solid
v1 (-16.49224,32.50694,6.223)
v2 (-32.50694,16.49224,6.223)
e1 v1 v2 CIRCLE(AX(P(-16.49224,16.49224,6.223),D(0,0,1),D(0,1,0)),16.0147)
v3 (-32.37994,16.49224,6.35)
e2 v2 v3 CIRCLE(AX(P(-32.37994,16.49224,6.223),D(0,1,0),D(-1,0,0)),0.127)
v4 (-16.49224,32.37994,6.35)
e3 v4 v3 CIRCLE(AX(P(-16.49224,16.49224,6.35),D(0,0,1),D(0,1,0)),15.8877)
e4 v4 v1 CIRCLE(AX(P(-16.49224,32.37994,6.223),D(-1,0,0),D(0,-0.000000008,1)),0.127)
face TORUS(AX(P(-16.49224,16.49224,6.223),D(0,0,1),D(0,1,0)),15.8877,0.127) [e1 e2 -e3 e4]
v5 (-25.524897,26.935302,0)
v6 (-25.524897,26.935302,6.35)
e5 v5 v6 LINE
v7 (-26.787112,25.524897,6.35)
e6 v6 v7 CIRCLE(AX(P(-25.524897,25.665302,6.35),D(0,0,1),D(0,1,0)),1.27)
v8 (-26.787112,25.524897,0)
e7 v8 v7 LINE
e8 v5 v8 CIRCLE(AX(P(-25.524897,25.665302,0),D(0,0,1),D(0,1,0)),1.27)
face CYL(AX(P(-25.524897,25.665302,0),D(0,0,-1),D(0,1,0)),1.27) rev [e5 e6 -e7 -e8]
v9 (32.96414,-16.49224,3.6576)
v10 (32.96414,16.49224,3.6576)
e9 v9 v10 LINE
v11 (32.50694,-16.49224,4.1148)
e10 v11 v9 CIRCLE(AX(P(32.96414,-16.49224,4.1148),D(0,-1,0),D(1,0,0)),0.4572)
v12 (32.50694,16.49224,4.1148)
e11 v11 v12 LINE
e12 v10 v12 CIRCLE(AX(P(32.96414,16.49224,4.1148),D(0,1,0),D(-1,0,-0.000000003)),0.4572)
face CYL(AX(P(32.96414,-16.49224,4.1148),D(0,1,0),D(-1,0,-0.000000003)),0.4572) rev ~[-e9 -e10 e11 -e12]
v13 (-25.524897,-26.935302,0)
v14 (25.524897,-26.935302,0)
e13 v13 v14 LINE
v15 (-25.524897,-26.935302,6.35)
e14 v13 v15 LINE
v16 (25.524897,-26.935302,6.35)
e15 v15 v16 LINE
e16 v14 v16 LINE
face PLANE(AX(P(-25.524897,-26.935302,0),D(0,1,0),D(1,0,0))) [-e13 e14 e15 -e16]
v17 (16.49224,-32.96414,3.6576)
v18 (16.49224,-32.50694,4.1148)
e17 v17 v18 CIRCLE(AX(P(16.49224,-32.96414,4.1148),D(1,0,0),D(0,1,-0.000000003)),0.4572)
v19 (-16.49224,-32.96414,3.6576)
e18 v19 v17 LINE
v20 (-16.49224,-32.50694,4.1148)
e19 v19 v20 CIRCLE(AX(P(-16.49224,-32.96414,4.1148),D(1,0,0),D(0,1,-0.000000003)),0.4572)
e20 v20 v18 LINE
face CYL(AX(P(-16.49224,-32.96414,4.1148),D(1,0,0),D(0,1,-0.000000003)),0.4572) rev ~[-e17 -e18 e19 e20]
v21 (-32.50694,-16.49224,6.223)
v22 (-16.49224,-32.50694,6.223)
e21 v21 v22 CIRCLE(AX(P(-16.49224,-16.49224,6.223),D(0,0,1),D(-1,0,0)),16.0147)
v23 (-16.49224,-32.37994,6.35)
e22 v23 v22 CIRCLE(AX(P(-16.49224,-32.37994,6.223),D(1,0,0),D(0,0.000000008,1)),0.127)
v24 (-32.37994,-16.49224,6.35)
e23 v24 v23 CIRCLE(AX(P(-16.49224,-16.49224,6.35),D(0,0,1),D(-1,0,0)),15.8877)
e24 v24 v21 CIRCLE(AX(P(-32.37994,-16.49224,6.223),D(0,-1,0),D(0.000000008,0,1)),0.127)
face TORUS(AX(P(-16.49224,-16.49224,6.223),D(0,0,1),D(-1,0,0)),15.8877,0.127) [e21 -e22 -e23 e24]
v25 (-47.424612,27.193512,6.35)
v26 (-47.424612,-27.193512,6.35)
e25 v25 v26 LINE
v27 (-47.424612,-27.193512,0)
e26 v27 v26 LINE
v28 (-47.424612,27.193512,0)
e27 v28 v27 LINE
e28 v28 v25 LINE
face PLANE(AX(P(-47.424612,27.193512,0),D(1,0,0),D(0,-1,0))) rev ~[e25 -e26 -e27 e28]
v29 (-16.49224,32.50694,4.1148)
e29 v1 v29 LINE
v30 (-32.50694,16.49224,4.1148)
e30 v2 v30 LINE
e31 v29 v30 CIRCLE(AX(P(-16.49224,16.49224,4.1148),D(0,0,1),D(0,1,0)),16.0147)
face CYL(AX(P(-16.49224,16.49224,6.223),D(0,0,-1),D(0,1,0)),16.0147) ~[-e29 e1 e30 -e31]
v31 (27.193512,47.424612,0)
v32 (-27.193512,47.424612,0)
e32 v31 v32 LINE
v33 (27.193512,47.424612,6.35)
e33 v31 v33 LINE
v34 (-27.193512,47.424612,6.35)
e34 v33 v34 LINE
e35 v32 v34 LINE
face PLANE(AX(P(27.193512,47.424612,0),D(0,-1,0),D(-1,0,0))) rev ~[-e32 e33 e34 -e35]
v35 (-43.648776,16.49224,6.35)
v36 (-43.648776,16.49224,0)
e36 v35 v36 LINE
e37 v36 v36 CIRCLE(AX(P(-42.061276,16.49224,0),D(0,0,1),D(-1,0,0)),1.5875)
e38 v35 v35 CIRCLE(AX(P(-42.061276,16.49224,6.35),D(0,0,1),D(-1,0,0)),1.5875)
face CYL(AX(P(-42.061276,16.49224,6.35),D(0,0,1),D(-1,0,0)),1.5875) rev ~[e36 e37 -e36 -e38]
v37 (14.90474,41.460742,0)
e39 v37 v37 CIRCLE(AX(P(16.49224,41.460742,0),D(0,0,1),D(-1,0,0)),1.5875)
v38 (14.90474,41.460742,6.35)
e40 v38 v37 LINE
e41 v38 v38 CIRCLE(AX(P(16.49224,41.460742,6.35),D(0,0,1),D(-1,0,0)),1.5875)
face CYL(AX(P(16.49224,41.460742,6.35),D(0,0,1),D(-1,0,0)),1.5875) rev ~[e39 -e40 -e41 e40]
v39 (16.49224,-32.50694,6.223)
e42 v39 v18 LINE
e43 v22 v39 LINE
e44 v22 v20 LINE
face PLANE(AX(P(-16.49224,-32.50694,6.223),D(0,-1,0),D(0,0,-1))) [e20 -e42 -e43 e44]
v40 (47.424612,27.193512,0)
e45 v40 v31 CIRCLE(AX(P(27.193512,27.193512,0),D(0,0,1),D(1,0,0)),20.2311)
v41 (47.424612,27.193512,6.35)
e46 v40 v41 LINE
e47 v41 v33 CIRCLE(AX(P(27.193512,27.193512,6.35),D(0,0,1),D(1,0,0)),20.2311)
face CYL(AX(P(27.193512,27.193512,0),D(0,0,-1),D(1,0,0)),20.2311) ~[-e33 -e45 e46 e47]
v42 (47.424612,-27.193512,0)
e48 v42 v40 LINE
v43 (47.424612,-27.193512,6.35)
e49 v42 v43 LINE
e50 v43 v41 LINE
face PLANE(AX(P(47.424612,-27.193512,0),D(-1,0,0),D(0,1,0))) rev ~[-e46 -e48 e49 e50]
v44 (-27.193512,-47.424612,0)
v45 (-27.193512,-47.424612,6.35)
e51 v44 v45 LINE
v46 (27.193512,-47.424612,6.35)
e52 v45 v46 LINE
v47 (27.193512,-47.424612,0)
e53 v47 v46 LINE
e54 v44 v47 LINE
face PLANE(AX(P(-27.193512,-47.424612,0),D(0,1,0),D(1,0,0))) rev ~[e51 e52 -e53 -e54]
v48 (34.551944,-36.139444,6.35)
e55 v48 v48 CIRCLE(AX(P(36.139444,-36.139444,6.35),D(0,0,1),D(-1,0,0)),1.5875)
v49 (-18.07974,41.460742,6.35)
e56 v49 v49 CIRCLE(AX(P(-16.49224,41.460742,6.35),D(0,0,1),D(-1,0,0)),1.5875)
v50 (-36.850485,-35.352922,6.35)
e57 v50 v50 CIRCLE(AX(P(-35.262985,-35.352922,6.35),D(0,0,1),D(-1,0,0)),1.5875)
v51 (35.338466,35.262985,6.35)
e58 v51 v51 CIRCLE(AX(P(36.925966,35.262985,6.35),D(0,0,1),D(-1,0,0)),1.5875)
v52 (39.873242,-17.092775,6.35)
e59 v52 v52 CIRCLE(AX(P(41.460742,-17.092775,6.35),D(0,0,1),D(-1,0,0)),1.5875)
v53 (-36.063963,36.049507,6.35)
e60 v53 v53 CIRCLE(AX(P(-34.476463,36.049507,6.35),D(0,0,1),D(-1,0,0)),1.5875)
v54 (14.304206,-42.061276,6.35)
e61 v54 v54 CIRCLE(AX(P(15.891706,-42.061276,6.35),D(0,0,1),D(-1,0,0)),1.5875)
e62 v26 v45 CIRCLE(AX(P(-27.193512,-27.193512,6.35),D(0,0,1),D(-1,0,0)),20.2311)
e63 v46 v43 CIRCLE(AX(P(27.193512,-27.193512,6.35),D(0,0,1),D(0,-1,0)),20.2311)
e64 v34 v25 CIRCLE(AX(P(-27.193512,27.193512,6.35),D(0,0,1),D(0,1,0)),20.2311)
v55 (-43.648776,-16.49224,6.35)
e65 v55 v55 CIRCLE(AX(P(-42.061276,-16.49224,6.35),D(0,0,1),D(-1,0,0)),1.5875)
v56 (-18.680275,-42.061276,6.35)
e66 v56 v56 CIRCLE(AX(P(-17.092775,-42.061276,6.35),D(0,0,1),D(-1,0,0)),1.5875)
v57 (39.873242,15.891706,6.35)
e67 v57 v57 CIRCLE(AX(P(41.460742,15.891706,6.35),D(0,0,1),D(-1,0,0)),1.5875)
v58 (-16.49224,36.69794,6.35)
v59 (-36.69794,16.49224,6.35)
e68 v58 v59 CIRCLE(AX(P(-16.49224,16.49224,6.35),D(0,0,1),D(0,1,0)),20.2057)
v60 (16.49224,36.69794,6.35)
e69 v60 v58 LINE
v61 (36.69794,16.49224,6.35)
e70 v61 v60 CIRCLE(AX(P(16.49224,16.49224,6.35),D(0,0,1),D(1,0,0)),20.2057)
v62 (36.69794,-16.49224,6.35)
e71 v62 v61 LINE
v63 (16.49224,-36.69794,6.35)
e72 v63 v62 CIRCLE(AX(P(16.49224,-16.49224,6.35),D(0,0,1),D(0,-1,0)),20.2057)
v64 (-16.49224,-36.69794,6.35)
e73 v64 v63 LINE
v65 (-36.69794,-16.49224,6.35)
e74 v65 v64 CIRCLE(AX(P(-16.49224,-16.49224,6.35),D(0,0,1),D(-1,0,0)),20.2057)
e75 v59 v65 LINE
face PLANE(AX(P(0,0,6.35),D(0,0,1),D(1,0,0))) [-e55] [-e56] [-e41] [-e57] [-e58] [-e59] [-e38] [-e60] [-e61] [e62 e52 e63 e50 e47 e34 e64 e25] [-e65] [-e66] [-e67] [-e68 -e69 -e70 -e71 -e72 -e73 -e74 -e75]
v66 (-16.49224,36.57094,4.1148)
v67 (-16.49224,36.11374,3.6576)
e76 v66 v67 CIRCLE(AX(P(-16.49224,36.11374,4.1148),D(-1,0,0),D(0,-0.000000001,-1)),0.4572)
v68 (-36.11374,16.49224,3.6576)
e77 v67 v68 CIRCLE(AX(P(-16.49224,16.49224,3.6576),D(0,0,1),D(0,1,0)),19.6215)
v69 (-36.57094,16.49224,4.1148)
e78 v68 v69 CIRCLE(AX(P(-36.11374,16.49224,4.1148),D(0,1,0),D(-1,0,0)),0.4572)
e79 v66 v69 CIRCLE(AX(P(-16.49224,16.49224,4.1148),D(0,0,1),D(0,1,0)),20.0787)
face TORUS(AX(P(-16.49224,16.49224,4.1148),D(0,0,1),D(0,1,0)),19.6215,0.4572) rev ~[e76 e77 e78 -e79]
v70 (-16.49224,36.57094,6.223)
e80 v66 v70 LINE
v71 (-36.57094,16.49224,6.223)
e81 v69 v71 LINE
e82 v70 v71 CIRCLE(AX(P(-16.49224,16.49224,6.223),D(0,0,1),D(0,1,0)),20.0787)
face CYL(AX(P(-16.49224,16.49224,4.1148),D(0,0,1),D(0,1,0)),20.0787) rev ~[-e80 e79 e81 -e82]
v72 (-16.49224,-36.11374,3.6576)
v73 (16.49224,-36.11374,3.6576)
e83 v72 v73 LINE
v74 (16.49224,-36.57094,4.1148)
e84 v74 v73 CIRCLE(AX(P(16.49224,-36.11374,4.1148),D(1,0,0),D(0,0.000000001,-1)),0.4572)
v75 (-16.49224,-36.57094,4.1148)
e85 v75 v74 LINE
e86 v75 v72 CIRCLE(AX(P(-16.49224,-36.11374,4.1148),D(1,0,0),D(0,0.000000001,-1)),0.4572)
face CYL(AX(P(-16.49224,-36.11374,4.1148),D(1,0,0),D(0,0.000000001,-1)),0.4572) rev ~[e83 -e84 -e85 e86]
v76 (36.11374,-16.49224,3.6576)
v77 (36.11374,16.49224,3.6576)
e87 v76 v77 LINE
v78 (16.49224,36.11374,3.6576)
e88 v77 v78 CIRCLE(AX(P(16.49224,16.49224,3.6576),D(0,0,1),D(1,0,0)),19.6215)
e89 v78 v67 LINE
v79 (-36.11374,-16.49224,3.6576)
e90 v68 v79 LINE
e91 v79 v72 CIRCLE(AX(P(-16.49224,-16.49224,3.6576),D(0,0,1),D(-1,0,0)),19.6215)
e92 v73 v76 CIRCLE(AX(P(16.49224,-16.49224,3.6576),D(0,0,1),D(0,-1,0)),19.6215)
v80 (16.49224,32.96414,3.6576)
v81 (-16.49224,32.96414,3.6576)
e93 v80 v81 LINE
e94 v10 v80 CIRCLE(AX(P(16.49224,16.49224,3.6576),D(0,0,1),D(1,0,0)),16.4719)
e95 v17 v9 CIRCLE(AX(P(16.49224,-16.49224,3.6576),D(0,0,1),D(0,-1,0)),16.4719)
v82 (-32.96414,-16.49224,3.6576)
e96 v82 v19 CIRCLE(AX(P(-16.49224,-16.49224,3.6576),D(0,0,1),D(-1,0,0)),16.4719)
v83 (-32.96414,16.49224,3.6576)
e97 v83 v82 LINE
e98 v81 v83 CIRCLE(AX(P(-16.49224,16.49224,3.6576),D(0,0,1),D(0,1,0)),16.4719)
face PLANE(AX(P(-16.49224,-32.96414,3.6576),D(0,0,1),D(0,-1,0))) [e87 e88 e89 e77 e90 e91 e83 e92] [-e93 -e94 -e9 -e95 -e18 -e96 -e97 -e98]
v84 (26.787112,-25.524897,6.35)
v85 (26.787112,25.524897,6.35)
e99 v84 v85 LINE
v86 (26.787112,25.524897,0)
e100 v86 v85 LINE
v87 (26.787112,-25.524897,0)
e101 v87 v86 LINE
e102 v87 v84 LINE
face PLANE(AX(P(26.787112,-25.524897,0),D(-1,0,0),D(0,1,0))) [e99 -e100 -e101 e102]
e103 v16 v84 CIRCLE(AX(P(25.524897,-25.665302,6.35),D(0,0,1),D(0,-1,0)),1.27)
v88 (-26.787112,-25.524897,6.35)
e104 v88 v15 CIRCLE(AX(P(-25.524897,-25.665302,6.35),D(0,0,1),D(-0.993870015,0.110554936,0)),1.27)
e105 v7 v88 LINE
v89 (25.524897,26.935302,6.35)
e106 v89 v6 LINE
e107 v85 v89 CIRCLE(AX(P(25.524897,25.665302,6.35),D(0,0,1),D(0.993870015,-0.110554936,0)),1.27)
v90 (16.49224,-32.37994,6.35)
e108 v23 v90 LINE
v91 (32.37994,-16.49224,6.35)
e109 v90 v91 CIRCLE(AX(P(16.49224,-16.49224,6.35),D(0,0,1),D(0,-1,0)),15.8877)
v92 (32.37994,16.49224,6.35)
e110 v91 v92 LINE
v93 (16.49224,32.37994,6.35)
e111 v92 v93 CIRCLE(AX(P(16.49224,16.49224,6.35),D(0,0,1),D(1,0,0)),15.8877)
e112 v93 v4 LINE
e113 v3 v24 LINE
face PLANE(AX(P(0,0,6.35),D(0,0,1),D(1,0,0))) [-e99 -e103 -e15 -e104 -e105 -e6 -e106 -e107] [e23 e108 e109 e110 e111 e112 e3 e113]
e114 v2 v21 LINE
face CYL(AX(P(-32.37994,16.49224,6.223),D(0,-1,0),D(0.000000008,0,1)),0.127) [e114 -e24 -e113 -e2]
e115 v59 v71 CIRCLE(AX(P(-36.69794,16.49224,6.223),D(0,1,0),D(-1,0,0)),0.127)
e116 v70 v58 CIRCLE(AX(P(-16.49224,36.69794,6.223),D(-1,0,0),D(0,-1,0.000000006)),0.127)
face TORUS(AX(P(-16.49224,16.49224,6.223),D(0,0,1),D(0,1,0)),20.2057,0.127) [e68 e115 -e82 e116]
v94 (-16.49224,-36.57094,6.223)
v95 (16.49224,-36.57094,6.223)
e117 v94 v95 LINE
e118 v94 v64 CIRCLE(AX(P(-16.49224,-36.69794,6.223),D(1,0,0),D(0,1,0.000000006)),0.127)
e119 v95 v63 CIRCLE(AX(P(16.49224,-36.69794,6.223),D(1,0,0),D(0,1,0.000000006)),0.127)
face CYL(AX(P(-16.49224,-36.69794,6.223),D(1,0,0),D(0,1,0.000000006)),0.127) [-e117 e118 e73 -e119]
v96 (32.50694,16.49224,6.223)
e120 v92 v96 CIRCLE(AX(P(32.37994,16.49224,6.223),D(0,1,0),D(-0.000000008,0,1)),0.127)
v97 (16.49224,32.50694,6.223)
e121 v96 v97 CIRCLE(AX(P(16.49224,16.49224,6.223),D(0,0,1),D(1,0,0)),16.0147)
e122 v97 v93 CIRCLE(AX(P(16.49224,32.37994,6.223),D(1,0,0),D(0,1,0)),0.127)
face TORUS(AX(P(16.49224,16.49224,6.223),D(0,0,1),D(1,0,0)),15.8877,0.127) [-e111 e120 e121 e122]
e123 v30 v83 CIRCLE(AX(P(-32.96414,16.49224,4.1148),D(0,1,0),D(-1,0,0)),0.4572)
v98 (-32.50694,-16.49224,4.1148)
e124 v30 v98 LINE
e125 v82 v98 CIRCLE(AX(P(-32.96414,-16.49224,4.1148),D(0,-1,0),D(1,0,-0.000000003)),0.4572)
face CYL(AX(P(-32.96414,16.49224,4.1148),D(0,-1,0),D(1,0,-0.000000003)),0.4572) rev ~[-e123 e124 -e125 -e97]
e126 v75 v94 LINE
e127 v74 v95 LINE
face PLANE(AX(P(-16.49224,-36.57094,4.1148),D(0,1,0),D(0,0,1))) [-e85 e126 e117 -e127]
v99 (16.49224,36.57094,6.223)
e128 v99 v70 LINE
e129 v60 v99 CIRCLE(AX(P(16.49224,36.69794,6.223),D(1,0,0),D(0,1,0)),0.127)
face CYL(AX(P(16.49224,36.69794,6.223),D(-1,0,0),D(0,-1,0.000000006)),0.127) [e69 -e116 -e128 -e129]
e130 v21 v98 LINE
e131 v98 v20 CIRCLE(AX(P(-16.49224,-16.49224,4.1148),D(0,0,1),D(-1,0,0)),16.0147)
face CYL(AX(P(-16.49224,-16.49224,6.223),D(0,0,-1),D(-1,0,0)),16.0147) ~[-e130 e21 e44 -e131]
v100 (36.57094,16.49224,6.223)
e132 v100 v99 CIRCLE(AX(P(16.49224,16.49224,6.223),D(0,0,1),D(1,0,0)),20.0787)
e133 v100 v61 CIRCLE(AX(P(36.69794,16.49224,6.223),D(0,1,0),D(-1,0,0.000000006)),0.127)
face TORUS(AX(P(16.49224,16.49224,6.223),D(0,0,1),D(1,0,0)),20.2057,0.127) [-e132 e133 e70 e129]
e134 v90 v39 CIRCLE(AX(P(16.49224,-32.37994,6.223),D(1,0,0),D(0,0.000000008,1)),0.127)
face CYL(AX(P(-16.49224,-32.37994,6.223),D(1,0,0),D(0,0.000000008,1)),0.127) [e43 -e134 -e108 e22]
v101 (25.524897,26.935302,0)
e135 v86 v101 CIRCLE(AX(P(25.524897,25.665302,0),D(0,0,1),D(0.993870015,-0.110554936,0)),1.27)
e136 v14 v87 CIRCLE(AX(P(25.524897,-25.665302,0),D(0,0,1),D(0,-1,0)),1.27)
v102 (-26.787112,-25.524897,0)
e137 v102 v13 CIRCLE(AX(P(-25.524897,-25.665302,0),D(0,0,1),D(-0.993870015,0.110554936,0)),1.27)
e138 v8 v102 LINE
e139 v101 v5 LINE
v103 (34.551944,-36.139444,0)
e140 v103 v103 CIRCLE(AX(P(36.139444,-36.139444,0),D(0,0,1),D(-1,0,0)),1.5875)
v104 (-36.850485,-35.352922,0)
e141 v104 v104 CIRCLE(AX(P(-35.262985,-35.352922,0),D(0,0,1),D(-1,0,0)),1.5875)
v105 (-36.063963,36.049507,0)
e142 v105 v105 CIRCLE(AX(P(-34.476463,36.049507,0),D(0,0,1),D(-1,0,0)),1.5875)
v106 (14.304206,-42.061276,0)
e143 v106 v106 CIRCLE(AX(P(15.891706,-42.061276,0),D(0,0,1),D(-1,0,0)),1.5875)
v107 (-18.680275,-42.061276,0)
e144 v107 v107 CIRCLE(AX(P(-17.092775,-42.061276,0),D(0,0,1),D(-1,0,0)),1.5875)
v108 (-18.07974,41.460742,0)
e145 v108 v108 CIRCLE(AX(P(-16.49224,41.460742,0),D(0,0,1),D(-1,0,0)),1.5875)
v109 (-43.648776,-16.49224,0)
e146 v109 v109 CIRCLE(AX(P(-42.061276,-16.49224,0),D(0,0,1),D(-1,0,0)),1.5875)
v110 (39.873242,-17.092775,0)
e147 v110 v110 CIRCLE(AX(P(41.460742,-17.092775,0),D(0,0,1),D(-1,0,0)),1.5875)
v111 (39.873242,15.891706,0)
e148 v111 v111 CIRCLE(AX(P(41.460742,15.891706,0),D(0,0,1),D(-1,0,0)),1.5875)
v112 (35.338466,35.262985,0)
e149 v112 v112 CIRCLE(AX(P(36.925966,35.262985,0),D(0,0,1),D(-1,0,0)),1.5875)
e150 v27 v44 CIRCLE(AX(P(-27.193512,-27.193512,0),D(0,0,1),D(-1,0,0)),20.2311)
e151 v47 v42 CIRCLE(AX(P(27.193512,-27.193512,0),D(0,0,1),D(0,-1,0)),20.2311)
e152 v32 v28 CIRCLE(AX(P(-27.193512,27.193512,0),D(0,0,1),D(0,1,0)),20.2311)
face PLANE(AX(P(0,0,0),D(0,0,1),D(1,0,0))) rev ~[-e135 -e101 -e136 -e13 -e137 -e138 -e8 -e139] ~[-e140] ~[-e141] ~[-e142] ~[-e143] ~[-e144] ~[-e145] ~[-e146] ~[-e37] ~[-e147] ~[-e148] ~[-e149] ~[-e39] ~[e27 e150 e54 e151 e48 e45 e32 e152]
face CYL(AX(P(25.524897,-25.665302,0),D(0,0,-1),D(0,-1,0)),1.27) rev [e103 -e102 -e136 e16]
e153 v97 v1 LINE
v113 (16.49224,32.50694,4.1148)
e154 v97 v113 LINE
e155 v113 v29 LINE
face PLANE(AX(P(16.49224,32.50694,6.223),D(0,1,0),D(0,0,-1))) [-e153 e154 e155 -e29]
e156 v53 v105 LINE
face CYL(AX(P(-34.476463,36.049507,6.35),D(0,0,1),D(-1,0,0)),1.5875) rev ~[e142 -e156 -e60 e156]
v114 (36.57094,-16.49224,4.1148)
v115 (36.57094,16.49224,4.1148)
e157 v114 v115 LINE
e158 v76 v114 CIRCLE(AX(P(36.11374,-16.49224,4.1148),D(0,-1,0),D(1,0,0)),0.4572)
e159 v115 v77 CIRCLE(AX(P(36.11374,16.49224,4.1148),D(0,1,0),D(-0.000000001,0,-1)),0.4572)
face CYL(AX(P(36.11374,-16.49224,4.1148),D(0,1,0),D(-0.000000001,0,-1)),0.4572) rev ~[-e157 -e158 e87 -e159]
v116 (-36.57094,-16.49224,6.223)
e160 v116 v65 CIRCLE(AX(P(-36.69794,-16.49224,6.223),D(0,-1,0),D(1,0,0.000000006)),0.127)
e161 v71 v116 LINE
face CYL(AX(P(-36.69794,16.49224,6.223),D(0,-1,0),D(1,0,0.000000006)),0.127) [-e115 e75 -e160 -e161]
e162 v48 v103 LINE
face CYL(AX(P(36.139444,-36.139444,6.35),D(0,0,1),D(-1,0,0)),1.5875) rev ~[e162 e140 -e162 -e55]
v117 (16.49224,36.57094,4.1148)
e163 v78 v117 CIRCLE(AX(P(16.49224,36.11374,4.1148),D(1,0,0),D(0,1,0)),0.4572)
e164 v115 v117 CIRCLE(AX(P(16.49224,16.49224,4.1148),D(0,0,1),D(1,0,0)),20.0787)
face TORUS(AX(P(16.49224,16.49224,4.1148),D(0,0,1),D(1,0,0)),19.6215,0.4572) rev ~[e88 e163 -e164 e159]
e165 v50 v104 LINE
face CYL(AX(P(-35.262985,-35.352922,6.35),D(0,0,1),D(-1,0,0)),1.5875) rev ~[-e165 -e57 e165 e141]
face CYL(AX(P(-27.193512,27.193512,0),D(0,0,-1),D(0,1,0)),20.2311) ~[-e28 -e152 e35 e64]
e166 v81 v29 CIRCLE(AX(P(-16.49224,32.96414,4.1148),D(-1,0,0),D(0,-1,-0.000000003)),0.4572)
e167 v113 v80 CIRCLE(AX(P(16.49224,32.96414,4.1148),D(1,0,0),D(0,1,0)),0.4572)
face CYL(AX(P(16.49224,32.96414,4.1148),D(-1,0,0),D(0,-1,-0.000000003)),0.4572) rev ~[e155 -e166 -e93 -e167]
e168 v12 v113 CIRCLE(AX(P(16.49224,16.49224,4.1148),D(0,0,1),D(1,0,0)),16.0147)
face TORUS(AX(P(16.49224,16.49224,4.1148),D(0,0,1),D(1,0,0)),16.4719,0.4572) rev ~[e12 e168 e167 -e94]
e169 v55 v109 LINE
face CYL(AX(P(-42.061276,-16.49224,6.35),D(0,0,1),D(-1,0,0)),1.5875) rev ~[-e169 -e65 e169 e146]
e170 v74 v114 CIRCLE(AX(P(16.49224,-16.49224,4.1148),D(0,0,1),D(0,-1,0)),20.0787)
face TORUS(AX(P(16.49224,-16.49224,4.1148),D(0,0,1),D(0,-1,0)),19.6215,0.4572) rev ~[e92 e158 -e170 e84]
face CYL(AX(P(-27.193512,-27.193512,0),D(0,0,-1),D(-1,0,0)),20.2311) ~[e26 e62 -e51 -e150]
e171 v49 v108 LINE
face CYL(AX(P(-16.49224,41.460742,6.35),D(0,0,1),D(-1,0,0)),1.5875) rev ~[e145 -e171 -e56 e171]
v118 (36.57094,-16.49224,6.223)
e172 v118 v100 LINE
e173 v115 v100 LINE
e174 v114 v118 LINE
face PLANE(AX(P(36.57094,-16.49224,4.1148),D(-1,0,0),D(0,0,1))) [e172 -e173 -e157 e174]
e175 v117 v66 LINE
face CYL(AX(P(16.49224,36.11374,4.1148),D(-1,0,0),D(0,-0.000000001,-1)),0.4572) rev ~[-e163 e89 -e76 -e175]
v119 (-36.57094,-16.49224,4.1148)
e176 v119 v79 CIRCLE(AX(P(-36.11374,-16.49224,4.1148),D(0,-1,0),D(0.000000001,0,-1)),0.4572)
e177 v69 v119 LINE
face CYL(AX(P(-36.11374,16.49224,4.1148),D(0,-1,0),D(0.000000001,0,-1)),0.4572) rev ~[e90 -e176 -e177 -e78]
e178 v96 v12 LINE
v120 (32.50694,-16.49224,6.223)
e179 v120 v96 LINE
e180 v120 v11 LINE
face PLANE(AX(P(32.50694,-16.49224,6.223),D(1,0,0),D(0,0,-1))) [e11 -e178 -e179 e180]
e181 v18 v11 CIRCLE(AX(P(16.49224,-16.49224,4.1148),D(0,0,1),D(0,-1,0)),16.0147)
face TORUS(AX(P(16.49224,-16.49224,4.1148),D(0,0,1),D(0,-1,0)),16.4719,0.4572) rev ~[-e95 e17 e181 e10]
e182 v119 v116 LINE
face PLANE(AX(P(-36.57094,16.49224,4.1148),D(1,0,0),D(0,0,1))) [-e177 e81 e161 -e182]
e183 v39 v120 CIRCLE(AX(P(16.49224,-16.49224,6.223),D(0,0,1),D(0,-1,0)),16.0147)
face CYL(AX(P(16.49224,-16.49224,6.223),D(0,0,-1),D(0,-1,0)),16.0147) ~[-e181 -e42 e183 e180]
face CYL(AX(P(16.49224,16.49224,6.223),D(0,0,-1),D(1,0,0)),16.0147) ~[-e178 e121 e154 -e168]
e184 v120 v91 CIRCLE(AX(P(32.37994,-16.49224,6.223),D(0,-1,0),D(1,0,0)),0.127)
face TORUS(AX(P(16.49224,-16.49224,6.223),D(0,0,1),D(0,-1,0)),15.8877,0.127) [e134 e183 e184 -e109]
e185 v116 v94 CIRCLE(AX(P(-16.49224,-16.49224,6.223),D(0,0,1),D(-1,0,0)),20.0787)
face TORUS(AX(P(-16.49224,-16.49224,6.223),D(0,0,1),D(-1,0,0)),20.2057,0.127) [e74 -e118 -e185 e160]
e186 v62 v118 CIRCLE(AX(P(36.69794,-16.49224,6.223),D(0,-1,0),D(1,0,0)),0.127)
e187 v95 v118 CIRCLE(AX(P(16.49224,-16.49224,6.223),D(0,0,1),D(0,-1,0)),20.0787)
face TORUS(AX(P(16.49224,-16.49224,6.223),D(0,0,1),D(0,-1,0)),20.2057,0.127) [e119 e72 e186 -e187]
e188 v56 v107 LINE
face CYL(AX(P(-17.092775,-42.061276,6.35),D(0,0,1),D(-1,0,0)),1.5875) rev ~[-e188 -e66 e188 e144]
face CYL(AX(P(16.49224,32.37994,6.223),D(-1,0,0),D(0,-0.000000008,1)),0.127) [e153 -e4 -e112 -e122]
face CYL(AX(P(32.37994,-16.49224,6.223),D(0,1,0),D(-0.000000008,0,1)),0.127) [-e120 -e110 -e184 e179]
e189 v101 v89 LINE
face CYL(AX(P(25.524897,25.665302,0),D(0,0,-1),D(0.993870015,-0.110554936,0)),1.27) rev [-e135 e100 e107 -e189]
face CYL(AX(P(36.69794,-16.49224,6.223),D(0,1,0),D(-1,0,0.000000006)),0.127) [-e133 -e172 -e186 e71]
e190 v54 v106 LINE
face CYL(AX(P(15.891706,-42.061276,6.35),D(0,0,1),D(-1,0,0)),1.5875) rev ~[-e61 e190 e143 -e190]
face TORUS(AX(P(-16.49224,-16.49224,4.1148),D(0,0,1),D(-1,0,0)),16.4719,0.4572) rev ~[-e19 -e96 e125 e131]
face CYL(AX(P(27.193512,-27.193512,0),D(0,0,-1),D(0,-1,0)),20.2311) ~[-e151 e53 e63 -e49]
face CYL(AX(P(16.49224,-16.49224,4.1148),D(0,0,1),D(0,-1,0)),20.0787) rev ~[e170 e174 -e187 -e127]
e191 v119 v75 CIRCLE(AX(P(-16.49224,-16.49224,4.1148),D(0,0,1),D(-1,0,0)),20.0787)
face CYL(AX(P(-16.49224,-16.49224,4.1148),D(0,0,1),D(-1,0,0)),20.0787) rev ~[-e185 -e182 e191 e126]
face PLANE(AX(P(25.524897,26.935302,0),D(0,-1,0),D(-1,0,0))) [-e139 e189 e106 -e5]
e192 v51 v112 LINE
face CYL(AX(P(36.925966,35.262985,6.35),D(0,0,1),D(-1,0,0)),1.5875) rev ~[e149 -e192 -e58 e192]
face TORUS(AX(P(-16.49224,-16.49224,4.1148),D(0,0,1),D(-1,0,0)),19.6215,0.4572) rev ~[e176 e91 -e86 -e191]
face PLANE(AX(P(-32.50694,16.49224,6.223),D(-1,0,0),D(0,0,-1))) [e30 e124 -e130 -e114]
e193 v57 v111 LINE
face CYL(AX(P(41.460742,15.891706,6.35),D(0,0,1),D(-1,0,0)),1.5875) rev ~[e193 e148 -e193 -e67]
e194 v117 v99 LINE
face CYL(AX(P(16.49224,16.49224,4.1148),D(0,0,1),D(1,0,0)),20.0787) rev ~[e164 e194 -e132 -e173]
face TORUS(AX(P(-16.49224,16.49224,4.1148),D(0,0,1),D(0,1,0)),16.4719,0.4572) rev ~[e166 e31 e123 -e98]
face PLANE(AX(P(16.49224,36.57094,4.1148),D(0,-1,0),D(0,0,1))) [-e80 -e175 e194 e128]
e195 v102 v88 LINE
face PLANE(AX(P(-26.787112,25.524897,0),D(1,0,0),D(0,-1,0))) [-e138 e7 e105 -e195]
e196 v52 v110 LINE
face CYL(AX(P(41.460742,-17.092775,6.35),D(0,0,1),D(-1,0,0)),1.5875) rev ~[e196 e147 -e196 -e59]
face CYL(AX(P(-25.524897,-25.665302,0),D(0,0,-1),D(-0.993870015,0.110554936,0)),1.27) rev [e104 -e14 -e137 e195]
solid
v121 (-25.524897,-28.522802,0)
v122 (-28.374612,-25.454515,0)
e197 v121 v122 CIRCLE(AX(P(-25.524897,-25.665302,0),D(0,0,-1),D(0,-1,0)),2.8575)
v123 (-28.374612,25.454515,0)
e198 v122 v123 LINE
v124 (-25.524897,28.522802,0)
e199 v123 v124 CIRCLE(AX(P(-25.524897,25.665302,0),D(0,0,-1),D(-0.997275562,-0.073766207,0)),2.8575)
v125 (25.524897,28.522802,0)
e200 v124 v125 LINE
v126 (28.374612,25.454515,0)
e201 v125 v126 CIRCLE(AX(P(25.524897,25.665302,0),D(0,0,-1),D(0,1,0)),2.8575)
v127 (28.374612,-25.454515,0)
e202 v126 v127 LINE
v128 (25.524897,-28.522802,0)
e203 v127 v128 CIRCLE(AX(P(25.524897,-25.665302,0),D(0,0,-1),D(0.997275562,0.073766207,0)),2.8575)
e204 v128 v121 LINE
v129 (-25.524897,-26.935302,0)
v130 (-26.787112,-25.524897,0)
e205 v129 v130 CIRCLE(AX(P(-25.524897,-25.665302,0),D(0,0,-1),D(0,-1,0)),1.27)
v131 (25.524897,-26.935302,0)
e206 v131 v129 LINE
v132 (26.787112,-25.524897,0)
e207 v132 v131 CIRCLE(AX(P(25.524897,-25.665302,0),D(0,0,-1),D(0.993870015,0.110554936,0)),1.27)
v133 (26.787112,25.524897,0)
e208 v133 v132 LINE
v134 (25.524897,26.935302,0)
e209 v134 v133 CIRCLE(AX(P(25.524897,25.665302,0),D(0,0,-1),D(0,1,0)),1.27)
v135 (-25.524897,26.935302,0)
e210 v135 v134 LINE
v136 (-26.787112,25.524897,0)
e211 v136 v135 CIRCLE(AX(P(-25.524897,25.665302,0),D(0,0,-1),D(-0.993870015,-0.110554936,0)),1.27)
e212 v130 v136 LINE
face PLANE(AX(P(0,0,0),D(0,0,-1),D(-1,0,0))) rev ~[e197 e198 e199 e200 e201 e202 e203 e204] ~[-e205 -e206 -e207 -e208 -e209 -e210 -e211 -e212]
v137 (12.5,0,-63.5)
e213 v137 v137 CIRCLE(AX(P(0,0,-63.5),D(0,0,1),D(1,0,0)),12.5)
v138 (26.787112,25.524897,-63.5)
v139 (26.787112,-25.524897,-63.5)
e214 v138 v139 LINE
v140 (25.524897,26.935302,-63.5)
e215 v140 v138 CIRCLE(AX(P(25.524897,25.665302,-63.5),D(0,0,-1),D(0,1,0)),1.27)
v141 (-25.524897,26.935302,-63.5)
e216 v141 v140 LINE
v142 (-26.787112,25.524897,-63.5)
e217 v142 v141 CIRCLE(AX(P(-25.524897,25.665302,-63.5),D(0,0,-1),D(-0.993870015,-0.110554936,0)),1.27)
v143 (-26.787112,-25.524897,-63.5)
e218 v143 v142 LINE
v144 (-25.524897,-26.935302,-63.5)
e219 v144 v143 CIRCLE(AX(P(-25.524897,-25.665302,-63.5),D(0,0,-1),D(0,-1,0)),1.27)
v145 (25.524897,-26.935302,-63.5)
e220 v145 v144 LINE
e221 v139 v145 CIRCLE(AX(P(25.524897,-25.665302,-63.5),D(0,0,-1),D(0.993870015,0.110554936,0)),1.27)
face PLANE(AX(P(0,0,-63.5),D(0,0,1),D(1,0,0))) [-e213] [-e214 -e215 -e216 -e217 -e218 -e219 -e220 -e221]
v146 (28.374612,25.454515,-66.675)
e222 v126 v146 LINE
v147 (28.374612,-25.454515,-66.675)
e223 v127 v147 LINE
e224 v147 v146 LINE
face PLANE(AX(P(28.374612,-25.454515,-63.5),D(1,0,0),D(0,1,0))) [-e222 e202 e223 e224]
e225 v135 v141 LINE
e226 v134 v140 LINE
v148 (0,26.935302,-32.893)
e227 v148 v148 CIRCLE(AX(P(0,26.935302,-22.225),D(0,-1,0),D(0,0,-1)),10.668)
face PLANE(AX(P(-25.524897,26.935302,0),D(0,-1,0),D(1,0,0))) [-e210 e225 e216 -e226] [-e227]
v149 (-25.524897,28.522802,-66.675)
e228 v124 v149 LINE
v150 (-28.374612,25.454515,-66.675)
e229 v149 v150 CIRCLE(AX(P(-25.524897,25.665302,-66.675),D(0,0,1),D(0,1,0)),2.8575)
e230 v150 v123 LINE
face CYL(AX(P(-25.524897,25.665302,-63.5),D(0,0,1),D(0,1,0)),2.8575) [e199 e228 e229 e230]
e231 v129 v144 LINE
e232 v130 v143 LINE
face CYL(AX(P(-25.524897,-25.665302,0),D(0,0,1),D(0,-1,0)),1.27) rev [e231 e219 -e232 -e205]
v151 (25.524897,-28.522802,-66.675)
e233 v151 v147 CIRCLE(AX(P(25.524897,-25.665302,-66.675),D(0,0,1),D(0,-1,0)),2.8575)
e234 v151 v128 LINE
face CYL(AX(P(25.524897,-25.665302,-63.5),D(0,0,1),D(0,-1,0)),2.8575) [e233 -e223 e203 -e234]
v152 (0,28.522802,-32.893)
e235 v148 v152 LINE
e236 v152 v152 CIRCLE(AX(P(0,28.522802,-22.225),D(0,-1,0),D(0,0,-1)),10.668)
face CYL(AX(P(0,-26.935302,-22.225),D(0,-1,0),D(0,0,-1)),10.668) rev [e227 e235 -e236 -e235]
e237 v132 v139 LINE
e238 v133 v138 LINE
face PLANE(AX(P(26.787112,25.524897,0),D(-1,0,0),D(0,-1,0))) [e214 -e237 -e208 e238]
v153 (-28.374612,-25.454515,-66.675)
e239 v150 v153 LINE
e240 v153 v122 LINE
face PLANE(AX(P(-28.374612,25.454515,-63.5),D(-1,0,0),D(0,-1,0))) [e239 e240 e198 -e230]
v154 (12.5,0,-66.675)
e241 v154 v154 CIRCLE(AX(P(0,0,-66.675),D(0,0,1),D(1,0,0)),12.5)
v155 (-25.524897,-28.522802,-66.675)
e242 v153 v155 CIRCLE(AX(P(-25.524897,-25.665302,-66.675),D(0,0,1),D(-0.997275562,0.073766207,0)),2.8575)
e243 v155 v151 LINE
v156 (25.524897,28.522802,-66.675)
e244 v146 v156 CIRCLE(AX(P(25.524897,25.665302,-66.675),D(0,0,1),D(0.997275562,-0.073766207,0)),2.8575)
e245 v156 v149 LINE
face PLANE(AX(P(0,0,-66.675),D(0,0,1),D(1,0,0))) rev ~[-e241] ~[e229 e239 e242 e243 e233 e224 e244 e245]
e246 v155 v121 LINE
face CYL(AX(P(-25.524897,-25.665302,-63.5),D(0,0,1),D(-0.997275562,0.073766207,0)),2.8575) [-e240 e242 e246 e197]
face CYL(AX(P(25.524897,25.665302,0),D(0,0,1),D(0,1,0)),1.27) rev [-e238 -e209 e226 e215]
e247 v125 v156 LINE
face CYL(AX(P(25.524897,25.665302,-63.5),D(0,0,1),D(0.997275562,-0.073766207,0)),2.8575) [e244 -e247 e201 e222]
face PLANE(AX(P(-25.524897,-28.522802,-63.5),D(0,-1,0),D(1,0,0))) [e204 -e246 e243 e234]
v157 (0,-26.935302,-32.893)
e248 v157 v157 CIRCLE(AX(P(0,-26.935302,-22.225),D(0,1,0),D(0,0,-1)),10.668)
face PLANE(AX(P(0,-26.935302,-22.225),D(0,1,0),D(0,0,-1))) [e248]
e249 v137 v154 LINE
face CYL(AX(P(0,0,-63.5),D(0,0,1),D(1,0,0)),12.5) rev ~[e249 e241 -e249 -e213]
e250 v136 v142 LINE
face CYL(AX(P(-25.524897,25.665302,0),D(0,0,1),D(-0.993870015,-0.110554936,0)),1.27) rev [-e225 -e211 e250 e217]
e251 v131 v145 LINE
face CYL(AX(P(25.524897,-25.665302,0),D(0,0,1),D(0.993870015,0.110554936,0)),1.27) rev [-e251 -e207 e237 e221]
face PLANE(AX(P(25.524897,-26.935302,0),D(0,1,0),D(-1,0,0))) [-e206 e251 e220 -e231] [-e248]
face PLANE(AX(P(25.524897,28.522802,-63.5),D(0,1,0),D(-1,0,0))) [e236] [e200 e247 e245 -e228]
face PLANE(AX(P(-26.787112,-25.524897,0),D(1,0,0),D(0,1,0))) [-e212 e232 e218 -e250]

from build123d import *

# Parameters (mm, degrees)
BOSS_EXTRUDE1_DEPTH     = 63.5
BOSS_EXTRUDE2_START     = -63.5
SKETCH12_R              = 12.5
BOSS_EXTRUDE2_DEPTH     = 3.175
CUT_EXTRUDE6_DEPTH      = 78.875967383
CUT_EXTRUDE6_DEPTH_BACK = 55.458104
CUT_EXTRUDE6_START      = 28.522802
SKETCH18_R              = 10.668
BOSS_EXTRUDE3_DEPTH     = 6.35
CUT_EXTRUDE7_START      = 6.35
SKETCH10_R              = 1.5875
CUT_EXTRUDE7_DEPTH      = 69.85


with BuildPart() as part:
    # Sketch1 → Boss-Extrude1 (new body)
    with BuildSketch(Plane.XY):
        with BuildLine():
            Line((-25.524896918, 28.522801686), (25.524896918, 28.522801686))
            ThreePointArc((25.524896918, 28.522801686), (27.618653102, 27.609907376), (28.374611836, 25.454514751))
            Line((28.374611836, 25.454514751), (28.374611836, -25.454514751))
            ThreePointArc((28.374611836, -25.454514751), (27.618653102, -27.609907376), (25.524896918, -28.522801686))
            Line((25.524896918, -28.522801686), (-25.524896918, -28.522801686))
            ThreePointArc((-25.524896918, -28.522801686), (-27.618653102, -27.609907376), (-28.374611836, -25.454514751))
            Line((-28.374611836, -25.454514751), (-28.374611836, 25.454514751))
            ThreePointArc((-28.374611836, 25.454514751), (-27.618653102, 27.609907376), (-25.524896918, 28.522801686))
        make_face()
        with BuildLine():
            Line((-25.524896918, 26.935301686), (25.524896918, 26.935301686))
            ThreePointArc((25.524896918, 26.935301686), (26.471262084, 26.51223319), (26.787111836, 25.524896918))
            Line((26.787111836, 25.524896918), (26.787111836, -25.524896918))
            ThreePointArc((26.787111836, -25.524896918), (26.471262084, -26.51223319), (25.524896918, -26.935301686))
            Line((25.524896918, -26.935301686), (-25.524896918, -26.935301686))
            ThreePointArc((-25.524896918, -26.935301686), (-26.471262084, -26.51223319), (-26.787111836, -25.524896918))
            Line((-26.787111836, -25.524896918), (-26.787111836, 25.524896918))
            ThreePointArc((-26.787111836, 25.524896918), (-26.471262084, 26.51223319), (-25.524896918, 26.935301686))
        make_face(mode=Mode.SUBTRACT)
    extrude(amount=-BOSS_EXTRUDE1_DEPTH)

    # Sketch12 → Boss-Extrude2 (add)
    with BuildSketch(Plane.XY.offset(BOSS_EXTRUDE2_START)):
        with BuildLine():
            ThreePointArc((-25.524896918, 28.522801686), (-27.618653102, 27.609907376), (-28.374611836, 25.454514751))
            Line((-28.374611836, 25.454514751), (-28.374611836, -25.454514751))
            ThreePointArc((-28.374611836, -25.454514751), (-27.618653102, -27.609907376), (-25.524896918, -28.522801686))
            Line((-25.524896918, -28.522801686), (25.524896918, -28.522801686))
            ThreePointArc((25.524896918, -28.522801686), (27.618653102, -27.609907376), (28.374611836, -25.454514751))
            Line((28.374611836, -25.454514751), (28.374611836, 25.454514751))
            ThreePointArc((28.374611836, 25.454514751), (27.618653102, 27.609907376), (25.524896918, 28.522801686))
            Line((25.524896918, 28.522801686), (-25.524896918, 28.522801686))
        make_face()
        Circle(SKETCH12_R, mode=Mode.SUBTRACT)
    extrude(amount=-BOSS_EXTRUDE2_DEPTH)

    # Sketch18 → Cut-Extrude6 (cut, two sides: drawn at the far end of the back side and taken through both)
    with BuildSketch(Plane(origin=(0, 0, 0), x_dir=(1, 0, 0), z_dir=(0, 1, 0)).offset(CUT_EXTRUDE6_START - CUT_EXTRUDE6_DEPTH_BACK)):
        with Locations(Location((0, 22.225, 0), (0, 0, 90))):
            Circle(SKETCH18_R)
    extrude(amount=CUT_EXTRUDE6_DEPTH + CUT_EXTRUDE6_DEPTH_BACK, mode=Mode.SUBTRACT)


with BuildPart() as body_2:
    # Sketch19 → Boss-Extrude3 (new body)
    with BuildSketch(Plane.XY):
        with BuildLine():
            Line((-27.193511836, -47.424611836), (27.193511836, -47.424611836))
            ThreePointArc((27.193511836, -47.424611836), (41.499059837, -41.499059837), (47.424611836, -27.193511836))
            Line((47.424611836, -27.193511836), (47.424611836, 27.193511836))
            ThreePointArc((47.424611836, 27.193511836), (41.499059837, 41.499059837), (27.193511836, 47.424611836))
            Line((27.193511836, 47.424611836), (-27.193511836, 47.424611836))
            ThreePointArc((-27.193511836, 47.424611836), (-41.499059837, 41.499059837), (-47.424611836, 27.193511836))
            Line((-47.424611836, 27.193511836), (-47.424611836, -27.193511836))
            ThreePointArc((-47.424611836, -27.193511836), (-41.499059837, -41.499059837), (-27.193511836, -47.424611836))
        make_face()
        with BuildLine():
            Line((26.787111836, -25.524896918), (26.787111836, 25.524896918))
            ThreePointArc((26.787111836, 25.524896918), (26.471262084, 26.51223319), (25.524896918, 26.935301686))
            Line((25.524896918, 26.935301686), (-25.524896918, 26.935301686))
            ThreePointArc((-25.524896918, 26.935301686), (-26.471262084, 26.51223319), (-26.787111836, 25.524896918))
            Line((-26.787111836, 25.524896918), (-26.787111836, -25.524896918))
            ThreePointArc((-26.787111836, -25.524896918), (-26.471262084, -26.51223319), (-25.524896918, -26.935301686))
            Line((-25.524896918, -26.935301686), (25.524896918, -26.935301686))
            ThreePointArc((25.524896918, -26.935301686), (26.471262084, -26.51223319), (26.787111836, -25.524896918))
        make_face(mode=Mode.SUBTRACT)
    extrude(amount=BOSS_EXTRUDE3_DEPTH)

    # Cut-Sweep1: sweep along a path in Sketch11
    with BuildLine(Plane.XY.offset(6.35)) as cut_sweep1_path:
        Line((-16.492240366, -32.379940366), (16.492240366, -32.379940366))
        ThreePointArc((16.492240366, -32.379940366), (27.726540774, -27.726540774), (32.379940366, -16.492240366))
        Line((32.379940366, -16.492240366), (32.379940366, 16.492240366))
        ThreePointArc((32.379940366, 16.492240366), (27.726540774, 27.726540774), (16.492240366, 32.379940366))
        Line((16.492240366, 32.379940366), (-16.492240366, 32.379940366))
        ThreePointArc((-16.492240366, 32.379940366), (-27.726540774, 27.726540774), (-32.379940366, 16.492240366))
        Line((-32.379940366, 16.492240366), (-32.379940366, -16.492240366))
        ThreePointArc((-32.379940366, -16.492240366), (-27.726540774, -27.726540774), (-16.492240366, -32.379940366))
    # Sketch17 → Cut-Sweep1 (sweep, cut)
    with BuildSketch(Plane(origin=(0, 0, 0), x_dir=(0, 0, -1), z_dir=(1, 0, 0))):
        with BuildLine():
            Line((-6.223, 32.506940366), (-4.1148, 32.506940366))
            ThreePointArc((-4.1148, 32.506940366), (-3.79151078, 32.640851146), (-3.6576, 32.964140366))
            Line((-3.6576, 32.964140366), (-3.6576, 36.113740366))
            ThreePointArc((-3.6576, 36.113740366), (-3.79151078, 36.437029587), (-4.1148, 36.570940366))
            Line((-4.1148, 36.570940366), (-6.223, 36.570940366))
            ThreePointArc((-6.223, 36.570940366), (-6.312802561, 36.608137805), (-6.35, 36.697940366))
            Line((-6.35, 36.697940366), (-6.35, 32.379940366))
            ThreePointArc((-6.35, 32.379940366), (-6.312802561, 32.469742928), (-6.223, 32.506940366))
        make_face()
    sweep(path=cut_sweep1_path.line, mode=Mode.SUBTRACT)

    # Sketch10 → Cut-Extrude7 (cut)
    with BuildSketch(Plane.XY.offset(CUT_EXTRUDE7_START)):
        with Locations(Location((-35.262984871, -35.352922089, 0), (0, 0, 180))):
            Circle(SKETCH10_R)
        with Locations(Location((-34.476463114, 36.049506627, 0), (0, 0, 180))):
            Circle(SKETCH10_R)
        with Locations(Location((36.925965603, 35.262984871, 0), (0, 0, 180))):
            Circle(SKETCH10_R)
        with Locations(Location((-42.061276101, -16.492240366, 0), (0, 0, 180))):
            Circle(SKETCH10_R)
        with Locations(Location((36.139443846, -36.139443846, 0), (0, 0, 180))):
            Circle(SKETCH10_R)
        with Locations(Location((-42.061276101, 16.492240366, 0), (0, 0, 180))):
            Circle(SKETCH10_R)
        with Locations(Location((16.492240366, 41.460741539, 0), (0, 0, 180))):
            Circle(SKETCH10_R)
        with Locations(Location((-16.492240366, 41.460741539, 0), (0, 0, 180))):
            Circle(SKETCH10_R)
        with Locations(Location((41.460741539, -17.092774929, 0), (0, 0, 180))):
            Circle(SKETCH10_R)
        with Locations(Location((41.460741539, 15.891705804, 0), (0, 0, 180))):
            Circle(SKETCH10_R)
        with Locations(Location((-17.092774929, -42.061276101, 0), (0, 0, 180))):
            Circle(SKETCH10_R)
        with Locations(Location((15.891705804, -42.061276101, 0), (0, 0, 180))):
            Circle(SKETCH10_R)
    extrude(amount=-CUT_EXTRUDE7_DEPTH, mode=Mode.SUBTRACT)


solid = Compound([part.part, body_2.part])
